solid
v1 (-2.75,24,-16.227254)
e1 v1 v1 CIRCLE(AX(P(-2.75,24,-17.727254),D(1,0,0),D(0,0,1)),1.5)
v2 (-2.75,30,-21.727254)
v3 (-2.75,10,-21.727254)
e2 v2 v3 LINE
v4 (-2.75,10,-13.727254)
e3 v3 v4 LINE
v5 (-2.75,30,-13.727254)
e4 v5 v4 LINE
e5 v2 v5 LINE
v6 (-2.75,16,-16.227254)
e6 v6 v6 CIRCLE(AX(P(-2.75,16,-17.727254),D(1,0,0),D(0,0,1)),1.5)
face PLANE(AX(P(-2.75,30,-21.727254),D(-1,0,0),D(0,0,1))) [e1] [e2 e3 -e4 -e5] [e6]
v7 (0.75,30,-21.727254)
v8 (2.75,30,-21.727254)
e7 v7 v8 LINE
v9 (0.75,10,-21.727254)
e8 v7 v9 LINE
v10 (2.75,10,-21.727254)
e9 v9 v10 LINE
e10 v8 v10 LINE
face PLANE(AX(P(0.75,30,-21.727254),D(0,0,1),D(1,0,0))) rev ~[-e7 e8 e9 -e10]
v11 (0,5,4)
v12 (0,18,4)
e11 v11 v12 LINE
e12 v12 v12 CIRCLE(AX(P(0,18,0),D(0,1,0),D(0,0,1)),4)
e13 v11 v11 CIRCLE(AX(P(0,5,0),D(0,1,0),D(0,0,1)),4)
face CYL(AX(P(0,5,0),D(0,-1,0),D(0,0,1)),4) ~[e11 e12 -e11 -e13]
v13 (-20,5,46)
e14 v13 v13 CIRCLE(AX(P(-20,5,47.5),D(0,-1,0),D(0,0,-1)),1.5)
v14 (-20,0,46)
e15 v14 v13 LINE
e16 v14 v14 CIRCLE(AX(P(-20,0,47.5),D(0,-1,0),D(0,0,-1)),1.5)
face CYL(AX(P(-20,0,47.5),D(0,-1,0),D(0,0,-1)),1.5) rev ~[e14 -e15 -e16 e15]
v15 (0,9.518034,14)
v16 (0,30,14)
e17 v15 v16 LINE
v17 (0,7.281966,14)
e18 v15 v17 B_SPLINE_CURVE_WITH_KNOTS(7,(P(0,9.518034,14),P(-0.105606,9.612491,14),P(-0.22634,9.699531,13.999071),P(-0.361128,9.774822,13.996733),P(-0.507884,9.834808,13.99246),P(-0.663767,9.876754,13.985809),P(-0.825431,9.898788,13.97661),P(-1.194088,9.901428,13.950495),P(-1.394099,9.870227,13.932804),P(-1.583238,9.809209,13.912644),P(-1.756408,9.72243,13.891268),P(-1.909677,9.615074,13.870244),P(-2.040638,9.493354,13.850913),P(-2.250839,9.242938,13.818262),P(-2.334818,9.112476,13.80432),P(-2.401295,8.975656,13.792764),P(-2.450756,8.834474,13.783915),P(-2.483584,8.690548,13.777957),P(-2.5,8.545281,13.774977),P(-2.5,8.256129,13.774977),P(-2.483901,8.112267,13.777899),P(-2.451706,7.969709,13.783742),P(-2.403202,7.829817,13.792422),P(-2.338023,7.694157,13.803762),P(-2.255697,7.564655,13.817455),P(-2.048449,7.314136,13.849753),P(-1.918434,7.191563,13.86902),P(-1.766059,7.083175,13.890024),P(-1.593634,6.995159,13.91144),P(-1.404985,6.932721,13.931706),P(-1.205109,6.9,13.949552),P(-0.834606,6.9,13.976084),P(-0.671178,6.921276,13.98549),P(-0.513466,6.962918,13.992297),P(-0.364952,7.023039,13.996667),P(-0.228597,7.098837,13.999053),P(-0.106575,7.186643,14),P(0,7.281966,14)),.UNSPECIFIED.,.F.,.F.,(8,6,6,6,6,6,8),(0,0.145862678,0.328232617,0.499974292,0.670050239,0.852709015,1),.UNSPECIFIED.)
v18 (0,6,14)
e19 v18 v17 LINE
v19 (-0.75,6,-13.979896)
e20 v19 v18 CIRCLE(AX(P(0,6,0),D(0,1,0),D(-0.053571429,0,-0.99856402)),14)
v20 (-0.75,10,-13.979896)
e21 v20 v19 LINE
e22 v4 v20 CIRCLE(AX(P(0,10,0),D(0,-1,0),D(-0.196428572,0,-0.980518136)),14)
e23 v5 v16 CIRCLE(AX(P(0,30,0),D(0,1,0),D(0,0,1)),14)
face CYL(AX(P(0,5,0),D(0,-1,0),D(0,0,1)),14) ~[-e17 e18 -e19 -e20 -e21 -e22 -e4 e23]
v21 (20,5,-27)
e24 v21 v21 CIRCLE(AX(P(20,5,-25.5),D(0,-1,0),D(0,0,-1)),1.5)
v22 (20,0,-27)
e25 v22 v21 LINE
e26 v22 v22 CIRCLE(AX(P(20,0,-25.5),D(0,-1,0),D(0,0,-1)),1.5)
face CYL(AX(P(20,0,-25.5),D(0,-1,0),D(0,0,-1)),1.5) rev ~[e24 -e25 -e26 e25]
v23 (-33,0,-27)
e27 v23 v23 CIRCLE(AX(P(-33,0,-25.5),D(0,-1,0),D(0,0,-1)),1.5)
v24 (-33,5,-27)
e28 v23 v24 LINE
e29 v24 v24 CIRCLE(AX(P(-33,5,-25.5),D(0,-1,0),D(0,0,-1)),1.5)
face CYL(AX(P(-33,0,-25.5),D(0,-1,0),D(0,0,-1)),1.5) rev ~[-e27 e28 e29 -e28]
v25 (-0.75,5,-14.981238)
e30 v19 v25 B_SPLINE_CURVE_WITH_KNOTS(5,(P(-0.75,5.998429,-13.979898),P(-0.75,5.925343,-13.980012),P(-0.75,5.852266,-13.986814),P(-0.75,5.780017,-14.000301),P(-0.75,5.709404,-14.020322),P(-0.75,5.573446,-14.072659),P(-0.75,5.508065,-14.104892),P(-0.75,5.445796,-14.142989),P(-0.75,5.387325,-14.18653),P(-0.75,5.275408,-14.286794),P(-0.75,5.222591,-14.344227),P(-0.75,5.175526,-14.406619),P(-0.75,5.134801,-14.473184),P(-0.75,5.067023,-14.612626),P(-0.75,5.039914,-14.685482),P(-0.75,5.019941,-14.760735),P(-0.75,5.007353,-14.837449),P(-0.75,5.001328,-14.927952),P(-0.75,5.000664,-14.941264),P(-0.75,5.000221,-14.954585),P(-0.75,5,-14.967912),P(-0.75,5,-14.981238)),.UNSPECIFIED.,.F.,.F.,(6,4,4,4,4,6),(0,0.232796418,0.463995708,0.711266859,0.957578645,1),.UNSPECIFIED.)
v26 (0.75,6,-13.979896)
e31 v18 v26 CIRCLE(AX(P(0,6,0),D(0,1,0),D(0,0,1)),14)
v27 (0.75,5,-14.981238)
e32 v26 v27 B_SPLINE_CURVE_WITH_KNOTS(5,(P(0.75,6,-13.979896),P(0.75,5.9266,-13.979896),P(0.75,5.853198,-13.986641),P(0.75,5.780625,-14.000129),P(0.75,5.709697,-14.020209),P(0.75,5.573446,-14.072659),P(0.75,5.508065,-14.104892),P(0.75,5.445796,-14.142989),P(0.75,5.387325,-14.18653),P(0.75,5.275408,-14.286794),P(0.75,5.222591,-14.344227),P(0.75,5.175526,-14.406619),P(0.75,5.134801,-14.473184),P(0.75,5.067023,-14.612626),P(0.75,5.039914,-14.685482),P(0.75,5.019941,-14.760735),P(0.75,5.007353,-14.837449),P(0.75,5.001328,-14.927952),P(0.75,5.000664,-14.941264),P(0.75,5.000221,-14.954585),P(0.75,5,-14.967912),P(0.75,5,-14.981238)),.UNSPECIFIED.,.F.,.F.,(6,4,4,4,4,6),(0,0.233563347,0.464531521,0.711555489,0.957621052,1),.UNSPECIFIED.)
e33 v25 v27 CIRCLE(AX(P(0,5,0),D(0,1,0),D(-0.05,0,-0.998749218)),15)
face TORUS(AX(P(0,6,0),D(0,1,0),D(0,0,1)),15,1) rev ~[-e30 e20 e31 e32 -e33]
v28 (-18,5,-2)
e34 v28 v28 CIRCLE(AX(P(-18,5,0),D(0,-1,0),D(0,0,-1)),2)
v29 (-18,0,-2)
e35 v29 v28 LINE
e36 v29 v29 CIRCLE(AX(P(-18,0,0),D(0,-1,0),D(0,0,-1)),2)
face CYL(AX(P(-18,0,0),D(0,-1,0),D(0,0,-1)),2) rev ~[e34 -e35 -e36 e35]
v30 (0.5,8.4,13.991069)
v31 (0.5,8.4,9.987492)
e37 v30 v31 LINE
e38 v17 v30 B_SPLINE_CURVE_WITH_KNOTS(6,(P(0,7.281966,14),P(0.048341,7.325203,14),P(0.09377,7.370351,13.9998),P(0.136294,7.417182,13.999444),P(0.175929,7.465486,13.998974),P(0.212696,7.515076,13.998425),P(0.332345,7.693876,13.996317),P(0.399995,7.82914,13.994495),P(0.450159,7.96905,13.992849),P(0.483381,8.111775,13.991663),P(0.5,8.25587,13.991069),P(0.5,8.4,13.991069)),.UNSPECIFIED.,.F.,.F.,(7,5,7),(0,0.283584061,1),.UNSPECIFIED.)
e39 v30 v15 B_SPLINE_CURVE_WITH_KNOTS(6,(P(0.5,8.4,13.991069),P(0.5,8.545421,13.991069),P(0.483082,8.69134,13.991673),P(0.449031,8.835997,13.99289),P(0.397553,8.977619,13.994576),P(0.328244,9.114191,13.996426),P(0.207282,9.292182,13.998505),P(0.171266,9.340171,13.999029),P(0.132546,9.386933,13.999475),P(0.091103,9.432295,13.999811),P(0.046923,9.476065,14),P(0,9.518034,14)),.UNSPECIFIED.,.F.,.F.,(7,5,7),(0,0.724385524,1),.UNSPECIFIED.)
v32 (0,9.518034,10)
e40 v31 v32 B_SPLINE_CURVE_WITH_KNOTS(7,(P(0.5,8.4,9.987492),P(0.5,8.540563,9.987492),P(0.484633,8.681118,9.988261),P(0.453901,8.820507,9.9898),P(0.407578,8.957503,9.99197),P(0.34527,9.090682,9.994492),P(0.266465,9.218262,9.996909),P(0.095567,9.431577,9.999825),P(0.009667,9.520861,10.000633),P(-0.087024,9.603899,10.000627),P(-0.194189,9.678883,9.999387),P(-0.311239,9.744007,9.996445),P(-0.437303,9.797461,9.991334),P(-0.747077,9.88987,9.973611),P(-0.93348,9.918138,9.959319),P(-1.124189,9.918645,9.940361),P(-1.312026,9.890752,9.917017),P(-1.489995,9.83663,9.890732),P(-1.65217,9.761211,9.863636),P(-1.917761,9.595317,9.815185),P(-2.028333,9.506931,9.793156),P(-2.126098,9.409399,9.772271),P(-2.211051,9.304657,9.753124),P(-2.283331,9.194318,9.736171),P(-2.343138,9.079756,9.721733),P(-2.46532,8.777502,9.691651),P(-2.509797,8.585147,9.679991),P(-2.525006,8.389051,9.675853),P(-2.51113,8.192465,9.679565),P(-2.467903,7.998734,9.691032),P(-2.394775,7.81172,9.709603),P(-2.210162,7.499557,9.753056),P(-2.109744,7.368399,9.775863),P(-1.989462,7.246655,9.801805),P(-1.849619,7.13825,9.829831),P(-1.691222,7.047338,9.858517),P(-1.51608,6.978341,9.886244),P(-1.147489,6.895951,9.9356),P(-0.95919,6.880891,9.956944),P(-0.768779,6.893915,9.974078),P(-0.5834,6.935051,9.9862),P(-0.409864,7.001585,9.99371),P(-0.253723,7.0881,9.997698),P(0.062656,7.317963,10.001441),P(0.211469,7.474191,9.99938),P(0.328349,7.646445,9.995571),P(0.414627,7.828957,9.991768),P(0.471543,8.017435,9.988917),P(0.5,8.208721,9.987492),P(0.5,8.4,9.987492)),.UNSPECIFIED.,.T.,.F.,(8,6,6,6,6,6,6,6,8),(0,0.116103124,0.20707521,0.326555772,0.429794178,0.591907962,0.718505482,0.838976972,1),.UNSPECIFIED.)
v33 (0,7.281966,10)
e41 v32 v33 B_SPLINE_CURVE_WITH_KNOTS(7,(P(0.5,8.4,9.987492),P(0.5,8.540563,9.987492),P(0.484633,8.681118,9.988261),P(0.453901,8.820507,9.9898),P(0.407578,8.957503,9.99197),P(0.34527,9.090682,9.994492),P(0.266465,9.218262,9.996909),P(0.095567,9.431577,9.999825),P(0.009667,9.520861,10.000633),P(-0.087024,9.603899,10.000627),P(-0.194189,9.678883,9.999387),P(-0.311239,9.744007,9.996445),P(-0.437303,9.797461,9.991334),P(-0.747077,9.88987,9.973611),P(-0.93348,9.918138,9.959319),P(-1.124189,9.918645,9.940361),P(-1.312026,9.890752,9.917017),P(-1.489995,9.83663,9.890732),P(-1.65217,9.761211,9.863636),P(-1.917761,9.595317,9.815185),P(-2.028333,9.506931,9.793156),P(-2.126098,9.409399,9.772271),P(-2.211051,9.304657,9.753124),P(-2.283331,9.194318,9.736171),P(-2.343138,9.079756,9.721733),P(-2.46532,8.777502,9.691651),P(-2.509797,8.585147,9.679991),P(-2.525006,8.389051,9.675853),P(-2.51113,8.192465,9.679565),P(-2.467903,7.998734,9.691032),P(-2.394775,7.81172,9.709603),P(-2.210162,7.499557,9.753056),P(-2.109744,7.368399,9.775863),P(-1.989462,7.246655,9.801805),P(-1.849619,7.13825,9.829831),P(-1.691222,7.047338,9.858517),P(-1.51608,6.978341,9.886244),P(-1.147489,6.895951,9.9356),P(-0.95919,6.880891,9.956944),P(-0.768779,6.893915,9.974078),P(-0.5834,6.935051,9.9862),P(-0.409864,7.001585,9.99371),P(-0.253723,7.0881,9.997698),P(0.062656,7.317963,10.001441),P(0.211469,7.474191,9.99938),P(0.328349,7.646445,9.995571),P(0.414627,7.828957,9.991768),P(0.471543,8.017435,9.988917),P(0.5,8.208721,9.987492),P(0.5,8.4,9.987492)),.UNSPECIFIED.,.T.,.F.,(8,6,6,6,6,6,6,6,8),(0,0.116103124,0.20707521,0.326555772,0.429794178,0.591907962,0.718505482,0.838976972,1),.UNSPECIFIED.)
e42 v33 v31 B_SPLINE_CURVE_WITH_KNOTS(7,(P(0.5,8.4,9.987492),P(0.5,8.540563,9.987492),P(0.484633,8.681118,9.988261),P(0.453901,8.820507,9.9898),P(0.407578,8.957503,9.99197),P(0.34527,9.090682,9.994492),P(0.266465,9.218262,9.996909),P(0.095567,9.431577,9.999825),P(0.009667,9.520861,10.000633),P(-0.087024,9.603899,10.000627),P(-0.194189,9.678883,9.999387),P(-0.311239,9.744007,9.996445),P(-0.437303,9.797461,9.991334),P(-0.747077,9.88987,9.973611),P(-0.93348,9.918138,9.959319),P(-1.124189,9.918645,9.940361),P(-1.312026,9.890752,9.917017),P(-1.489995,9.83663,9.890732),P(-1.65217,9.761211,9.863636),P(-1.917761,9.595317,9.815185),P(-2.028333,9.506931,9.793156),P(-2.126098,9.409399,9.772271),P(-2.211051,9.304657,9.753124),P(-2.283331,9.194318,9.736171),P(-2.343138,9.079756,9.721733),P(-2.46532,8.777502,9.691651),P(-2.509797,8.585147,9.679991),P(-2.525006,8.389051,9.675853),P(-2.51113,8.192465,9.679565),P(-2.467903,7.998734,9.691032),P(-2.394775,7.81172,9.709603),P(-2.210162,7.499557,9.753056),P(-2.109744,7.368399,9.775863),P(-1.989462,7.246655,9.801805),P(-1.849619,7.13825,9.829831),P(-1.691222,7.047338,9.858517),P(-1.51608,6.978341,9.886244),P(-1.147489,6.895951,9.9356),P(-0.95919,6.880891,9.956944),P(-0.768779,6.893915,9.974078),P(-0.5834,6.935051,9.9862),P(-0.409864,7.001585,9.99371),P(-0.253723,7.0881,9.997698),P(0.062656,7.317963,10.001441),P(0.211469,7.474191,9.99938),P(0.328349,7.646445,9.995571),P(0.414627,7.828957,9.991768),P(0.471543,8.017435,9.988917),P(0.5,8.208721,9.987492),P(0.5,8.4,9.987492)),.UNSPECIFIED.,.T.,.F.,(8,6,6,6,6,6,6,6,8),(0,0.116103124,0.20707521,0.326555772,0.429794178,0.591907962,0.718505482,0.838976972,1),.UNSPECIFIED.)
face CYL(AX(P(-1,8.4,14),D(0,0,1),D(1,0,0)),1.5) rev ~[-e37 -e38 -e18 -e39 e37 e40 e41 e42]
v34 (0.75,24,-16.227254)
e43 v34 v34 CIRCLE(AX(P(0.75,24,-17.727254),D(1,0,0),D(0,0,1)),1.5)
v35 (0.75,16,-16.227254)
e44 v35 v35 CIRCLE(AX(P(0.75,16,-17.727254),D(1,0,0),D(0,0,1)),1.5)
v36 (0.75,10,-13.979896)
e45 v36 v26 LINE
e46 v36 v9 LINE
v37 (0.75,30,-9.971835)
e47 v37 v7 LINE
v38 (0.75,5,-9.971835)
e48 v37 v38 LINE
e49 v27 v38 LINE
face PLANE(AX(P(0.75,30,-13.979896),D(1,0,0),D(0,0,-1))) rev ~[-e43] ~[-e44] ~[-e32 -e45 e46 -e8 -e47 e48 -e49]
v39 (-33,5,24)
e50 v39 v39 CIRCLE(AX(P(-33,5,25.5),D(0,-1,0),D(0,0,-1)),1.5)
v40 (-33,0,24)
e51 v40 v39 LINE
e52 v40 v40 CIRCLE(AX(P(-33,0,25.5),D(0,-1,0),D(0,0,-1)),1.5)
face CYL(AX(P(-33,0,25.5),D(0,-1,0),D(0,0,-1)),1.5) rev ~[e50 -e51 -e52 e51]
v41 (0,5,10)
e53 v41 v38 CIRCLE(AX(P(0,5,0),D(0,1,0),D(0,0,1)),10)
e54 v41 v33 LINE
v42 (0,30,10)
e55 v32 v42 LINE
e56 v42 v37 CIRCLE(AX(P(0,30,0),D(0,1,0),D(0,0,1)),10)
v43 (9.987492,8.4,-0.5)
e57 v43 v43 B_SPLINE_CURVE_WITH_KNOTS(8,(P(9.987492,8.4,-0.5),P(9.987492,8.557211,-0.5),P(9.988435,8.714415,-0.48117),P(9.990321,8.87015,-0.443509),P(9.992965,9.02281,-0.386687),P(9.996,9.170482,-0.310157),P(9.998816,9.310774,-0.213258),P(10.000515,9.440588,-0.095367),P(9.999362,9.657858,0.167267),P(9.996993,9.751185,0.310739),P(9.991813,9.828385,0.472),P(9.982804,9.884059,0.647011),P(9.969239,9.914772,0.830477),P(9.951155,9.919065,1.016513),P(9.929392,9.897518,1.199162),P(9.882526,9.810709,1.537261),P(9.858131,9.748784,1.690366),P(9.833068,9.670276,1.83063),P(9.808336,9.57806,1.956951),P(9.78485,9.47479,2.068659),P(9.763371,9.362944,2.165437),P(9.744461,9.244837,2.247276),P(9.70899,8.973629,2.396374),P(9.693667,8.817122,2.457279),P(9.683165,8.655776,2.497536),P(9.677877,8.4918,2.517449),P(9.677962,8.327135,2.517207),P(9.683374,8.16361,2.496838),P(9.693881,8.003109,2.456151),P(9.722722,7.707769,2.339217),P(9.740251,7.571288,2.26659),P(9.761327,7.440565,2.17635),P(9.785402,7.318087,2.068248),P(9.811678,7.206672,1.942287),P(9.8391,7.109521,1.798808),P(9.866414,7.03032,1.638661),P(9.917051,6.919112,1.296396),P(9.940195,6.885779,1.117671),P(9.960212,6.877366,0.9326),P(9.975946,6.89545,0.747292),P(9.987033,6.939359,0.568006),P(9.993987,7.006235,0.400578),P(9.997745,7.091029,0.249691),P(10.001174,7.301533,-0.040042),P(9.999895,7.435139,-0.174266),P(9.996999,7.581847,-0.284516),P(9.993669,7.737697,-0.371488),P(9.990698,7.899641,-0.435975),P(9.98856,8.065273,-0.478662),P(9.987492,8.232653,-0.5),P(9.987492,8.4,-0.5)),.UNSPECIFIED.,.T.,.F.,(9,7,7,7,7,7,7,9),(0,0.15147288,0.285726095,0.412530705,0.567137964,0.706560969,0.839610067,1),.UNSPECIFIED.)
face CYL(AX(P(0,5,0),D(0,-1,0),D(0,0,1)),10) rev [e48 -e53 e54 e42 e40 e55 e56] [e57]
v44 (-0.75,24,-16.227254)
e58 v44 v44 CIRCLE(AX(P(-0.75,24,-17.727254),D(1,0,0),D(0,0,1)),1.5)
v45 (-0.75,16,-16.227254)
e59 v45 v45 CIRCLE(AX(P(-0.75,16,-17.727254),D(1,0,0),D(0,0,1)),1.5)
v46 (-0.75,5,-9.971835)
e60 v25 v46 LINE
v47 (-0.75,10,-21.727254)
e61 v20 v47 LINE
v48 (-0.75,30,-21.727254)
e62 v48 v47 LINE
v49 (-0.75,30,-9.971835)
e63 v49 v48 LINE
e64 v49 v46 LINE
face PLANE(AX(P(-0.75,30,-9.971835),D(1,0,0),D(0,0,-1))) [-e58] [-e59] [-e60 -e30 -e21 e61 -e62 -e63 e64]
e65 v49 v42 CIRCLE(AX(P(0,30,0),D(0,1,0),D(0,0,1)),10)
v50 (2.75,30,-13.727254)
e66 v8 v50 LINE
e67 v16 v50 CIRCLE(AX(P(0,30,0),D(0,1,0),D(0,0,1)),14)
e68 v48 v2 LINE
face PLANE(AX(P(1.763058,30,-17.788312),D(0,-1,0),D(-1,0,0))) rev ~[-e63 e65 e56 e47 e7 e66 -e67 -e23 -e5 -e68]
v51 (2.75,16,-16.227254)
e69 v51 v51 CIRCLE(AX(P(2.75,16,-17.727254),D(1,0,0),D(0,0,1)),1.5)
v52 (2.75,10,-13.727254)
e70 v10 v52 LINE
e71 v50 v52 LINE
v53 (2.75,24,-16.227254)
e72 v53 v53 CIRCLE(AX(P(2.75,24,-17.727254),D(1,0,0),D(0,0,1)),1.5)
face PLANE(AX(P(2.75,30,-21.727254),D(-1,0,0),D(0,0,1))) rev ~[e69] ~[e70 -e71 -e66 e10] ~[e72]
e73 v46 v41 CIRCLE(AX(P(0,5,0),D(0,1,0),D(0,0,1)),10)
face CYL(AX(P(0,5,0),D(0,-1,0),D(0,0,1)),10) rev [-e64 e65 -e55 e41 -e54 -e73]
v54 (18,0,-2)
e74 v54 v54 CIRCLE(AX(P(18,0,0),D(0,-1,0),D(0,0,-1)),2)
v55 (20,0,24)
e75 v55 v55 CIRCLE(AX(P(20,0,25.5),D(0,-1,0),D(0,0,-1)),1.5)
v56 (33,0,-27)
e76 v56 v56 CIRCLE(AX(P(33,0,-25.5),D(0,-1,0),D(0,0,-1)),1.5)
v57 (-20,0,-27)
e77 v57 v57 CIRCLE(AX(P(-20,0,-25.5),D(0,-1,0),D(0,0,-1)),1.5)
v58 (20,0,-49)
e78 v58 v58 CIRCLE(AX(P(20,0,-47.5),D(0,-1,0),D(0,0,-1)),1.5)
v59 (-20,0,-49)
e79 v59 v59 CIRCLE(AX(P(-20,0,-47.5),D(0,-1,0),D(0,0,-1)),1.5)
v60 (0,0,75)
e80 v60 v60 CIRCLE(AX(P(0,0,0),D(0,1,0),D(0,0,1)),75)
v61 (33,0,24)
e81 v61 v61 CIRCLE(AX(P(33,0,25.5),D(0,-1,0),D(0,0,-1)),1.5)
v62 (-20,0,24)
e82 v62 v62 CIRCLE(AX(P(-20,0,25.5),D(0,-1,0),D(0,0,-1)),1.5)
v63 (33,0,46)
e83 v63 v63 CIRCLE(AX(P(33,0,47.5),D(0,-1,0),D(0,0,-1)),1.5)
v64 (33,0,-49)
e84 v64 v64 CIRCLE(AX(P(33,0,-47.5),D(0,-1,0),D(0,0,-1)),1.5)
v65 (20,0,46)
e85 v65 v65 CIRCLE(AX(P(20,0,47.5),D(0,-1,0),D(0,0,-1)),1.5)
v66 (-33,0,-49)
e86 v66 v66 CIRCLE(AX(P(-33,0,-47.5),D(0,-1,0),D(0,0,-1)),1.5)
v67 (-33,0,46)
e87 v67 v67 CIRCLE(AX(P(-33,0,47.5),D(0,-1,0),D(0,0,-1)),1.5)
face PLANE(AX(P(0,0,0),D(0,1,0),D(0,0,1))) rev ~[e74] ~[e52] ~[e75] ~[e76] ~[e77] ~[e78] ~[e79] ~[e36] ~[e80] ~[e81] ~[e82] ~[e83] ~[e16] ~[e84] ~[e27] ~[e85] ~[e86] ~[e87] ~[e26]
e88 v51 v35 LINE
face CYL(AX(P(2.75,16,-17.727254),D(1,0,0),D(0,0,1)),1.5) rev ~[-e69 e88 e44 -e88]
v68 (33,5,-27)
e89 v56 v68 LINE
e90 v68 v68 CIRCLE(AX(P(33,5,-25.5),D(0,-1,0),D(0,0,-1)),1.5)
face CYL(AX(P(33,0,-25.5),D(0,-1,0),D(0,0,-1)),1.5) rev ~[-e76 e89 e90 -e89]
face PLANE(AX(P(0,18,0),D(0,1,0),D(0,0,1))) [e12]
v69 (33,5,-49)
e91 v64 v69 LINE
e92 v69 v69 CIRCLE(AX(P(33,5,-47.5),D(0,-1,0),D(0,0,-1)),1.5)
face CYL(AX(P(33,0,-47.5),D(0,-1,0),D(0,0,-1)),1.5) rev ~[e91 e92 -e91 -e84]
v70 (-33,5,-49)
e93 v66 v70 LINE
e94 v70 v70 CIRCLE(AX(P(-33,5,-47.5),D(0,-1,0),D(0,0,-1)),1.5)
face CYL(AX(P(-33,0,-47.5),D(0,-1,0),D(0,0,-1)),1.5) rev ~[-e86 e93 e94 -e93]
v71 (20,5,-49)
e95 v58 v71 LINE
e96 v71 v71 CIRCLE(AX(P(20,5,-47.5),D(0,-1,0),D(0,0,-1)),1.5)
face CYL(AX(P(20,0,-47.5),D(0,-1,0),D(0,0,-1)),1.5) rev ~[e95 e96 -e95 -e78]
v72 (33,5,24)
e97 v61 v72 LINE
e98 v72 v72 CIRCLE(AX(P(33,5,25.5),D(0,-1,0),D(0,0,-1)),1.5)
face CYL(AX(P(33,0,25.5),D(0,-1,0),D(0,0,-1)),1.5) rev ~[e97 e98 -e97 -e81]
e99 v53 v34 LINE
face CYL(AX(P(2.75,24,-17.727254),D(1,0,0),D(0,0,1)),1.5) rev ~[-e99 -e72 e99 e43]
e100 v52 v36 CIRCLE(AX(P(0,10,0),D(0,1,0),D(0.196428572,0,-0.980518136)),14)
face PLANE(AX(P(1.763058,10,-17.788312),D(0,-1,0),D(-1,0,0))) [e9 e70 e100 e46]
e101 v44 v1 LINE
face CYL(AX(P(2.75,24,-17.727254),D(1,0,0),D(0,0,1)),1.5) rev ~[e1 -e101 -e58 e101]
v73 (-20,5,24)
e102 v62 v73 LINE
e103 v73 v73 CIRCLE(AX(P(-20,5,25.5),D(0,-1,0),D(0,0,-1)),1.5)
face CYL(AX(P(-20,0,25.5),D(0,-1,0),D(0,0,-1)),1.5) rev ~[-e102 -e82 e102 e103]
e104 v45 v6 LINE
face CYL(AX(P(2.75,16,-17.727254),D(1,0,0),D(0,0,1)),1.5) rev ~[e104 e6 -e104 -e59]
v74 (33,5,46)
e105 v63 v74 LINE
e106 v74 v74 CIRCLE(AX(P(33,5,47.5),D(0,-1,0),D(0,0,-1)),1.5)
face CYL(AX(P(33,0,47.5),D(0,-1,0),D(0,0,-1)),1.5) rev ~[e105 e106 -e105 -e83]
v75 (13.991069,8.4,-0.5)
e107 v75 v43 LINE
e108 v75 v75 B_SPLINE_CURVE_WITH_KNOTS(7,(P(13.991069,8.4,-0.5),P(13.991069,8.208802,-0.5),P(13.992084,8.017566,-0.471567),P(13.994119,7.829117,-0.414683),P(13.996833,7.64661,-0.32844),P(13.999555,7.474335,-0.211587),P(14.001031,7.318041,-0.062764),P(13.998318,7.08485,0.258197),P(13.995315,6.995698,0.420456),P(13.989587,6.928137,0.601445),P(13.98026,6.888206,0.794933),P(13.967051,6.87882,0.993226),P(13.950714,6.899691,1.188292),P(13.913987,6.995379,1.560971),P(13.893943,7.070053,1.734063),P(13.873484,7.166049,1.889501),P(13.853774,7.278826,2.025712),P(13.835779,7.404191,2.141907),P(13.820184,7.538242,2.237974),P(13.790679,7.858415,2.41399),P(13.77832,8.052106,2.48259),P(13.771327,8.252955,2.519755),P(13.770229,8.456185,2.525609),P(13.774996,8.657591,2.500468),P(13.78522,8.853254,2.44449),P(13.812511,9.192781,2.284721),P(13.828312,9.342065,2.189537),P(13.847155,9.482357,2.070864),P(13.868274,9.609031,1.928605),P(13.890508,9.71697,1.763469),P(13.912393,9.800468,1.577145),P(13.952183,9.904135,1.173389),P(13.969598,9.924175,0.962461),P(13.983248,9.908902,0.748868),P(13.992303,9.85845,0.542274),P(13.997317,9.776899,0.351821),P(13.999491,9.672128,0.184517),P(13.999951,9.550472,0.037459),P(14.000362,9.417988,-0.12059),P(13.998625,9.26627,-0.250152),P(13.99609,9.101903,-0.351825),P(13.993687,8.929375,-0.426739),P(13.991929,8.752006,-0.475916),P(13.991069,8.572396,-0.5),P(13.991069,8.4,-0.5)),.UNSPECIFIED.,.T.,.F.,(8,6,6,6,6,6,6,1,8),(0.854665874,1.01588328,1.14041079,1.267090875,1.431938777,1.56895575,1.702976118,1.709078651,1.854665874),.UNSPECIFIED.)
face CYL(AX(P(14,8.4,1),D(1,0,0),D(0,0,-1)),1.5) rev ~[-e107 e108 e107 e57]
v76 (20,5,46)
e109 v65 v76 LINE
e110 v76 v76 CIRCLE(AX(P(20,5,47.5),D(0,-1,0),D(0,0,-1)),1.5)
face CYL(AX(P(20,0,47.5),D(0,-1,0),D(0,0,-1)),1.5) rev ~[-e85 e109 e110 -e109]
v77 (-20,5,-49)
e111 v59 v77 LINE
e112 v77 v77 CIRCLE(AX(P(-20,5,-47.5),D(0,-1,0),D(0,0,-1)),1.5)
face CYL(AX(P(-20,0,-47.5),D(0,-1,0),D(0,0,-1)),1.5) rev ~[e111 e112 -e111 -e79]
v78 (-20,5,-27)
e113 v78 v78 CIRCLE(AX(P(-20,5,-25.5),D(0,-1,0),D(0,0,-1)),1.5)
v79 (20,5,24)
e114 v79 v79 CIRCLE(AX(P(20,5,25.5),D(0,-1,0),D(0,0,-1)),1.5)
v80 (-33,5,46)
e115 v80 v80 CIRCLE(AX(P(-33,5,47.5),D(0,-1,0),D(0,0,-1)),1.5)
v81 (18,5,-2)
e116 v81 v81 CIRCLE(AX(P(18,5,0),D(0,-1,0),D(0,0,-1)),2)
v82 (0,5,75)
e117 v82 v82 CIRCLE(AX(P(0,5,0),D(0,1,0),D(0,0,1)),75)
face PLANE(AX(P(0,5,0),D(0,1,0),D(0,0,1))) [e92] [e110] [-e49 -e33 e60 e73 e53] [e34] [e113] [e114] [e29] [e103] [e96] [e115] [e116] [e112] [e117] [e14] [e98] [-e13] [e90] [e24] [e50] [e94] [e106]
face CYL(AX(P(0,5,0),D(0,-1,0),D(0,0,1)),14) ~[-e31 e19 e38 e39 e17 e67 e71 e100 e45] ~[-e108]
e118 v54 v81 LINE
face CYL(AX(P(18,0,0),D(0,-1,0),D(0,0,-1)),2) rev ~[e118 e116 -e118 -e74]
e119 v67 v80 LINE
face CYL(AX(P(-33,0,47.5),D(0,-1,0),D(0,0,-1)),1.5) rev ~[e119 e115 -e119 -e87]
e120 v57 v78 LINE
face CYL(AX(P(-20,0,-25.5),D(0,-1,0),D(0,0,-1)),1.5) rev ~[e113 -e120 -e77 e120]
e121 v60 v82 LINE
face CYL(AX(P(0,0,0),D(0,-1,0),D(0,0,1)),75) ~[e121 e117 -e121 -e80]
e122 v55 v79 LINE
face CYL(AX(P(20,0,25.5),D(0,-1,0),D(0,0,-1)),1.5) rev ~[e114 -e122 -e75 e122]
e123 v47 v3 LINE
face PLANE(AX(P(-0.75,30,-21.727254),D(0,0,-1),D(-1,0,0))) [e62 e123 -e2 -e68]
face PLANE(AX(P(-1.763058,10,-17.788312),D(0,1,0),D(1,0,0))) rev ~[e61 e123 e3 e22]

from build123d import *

# Parameters (mm, degrees)
SKETCH1_R               = 75
BOSS_EXTRUDE1_DEPTH     = 5
SKETCH2_R               = 14
SKETCH2_R_2             = 10
SKETCH2_R_3             = 4
BOSS_EXTRUDE2_DEPTH     = 25
SKETCH3_R               = 4
CUT_EXTRUDE1_DEPTH      = 12
CUT_EXTRUDE2_REACH      = 122.192
CUT_EXTRUDE2_END_RADIUS = 10
SKETCH4_R               = 1.5
CUT_EXTRUDE3_REACH      = 122.192
CUT_EXTRUDE3_END_RADIUS = 10
SKETCH5_R               = 1.5
SKETCH6_R               = 2
CUT_EXTRUDE4_DEPTH      = 111.227038452
SKETCH7_R               = 1.5
CUT_EXTRUDE5_DEPTH      = 111.227038452
CUT_EXTRUDE6_DEPTH      = 25
BOSS_EXTRUDE3_DEPTH     = 20
SKETCH10_R              = 1.5
CUT_EXTRUDE7_DEPTH      = 113.116290101
FILLET1_R               = 1


with BuildPart() as part:
    # Sketch1 → Boss-Extrude1 (new body)
    with BuildSketch(Plane(origin=(0, 0, 0), x_dir=(1, 0, 0), z_dir=(0, 1, 0))):
        with Locations(Location((0, 0, 0), (0, 0, 270))):
            Circle(SKETCH1_R)
    extrude(amount=BOSS_EXTRUDE1_DEPTH)

    # Sketch2 → Boss-Extrude2 (add)
    with BuildSketch(Plane(origin=(0, 5, 0), x_dir=(1, 0, 0), z_dir=(0, 1, 0))):
        with Locations(Location((0, 0, 0), (0, 0, 270))):
            Circle(SKETCH2_R)
        with Locations(Location((0, 0, 0), (0, 0, 270))):
            Circle(SKETCH2_R_2, mode=Mode.SUBTRACT)
        with Locations(Location((0, 0, 0), (0, 0, 270))):
            Circle(SKETCH2_R_3)
    extrude(amount=BOSS_EXTRUDE2_DEPTH)

    # Sketch3 → Cut-Extrude1 (cut)
    with BuildSketch(Plane(origin=(0, 30, 0), x_dir=(1, 0, 0), z_dir=(0, 1, 0))):
        with Locations(Location((0, 0, 0), (0, 0, 270))):
            Circle(SKETCH3_R)
    extrude(amount=-CUT_EXTRUDE1_DEPTH, mode=Mode.SUBTRACT)

    # Cut-Extrude2: up to this cylinder (the profile starts outside it)
    cut_extrude2_end = Plane(origin=(0, 8.4, 0), z_dir=(0, -1, 0)) * Cylinder(CUT_EXTRUDE2_END_RADIUS, 265.384, mode=Mode.PRIVATE)
    # Sketch4 → Cut-Extrude2 (cut, up to the surface)
    with BuildSketch(Plane(origin=(14, 0, 0), x_dir=(0, 0, -1), z_dir=(1, 0, 0)), mode=Mode.PRIVATE) as cut_extrude2_sk1:
        with Locations((-1, 8.4)):
            Circle(SKETCH4_R)
    cut_extrude2_tool1 = extrude(cut_extrude2_sk1.sketch, amount=-CUT_EXTRUDE2_REACH, mode=Mode.PRIVATE) - cut_extrude2_end
    add(cut_extrude2_tool1.solids().sort_by_distance((14, 8.4, 1))[0], mode=Mode.SUBTRACT)

    # Cut-Extrude3: up to this cylinder (the profile starts outside it)
    cut_extrude3_end = Plane(origin=(0, 8.4, 0), z_dir=(0, -1, 0)) * Cylinder(CUT_EXTRUDE3_END_RADIUS, 265.384, mode=Mode.PRIVATE)
    # Sketch5 → Cut-Extrude3 (cut, up to the surface)
    with BuildSketch(Plane.XY.offset(14), mode=Mode.PRIVATE) as cut_extrude3_sk1:
        with Locations((-1, 8.4)):
            Circle(SKETCH5_R)
    cut_extrude3_tool1 = extrude(cut_extrude3_sk1.sketch, amount=-CUT_EXTRUDE3_REACH, mode=Mode.PRIVATE) - cut_extrude3_end
    add(cut_extrude3_tool1.solids().sort_by_distance((-1, 8.4, 14))[0], mode=Mode.SUBTRACT)

    # Sketch6 → Cut-Extrude4 (cut, through all)
    with BuildSketch(Plane.XZ):
        with Locations(Location((-18, 0, 0), (0, 0, 270))):
            Circle(SKETCH6_R)
        with Locations(Location((18, 0, 0), (0, 0, 270))):
            Circle(SKETCH6_R)
    extrude(amount=-CUT_EXTRUDE4_DEPTH, mode=Mode.SUBTRACT)

    # Sketch7 → Cut-Extrude5 (cut, through all)
    with BuildSketch(Plane.XZ):
        with Locations(Location((20, 47.5, 0), (0, 0, 270))):
            Circle(SKETCH7_R)
        with Locations(Location((33, 47.5, 0), (0, 0, 270))):
            Circle(SKETCH7_R)
        with Locations(Location((20, 25.5, 0), (0, 0, 270))):
            Circle(SKETCH7_R)
        with Locations(Location((33, 25.5, 0), (0, 0, 270))):
            Circle(SKETCH7_R)
        with Locations(Location((-20, 25.5, 0), (0, 0, 270))):
            Circle(SKETCH7_R)
        with Locations(Location((-33, 25.5, 0), (0, 0, 270))):
            Circle(SKETCH7_R)
        with Locations(Location((-33, 47.5, 0), (0, 0, 270))):
            Circle(SKETCH7_R)
        with Locations(Location((-20, 47.5, 0), (0, 0, 270))):
            Circle(SKETCH7_R)
        with Locations(Location((-33, -47.5, 0), (0, 0, 270))):
            Circle(SKETCH7_R)
        with Locations(Location((-20, -47.5, 0), (0, 0, 270))):
            Circle(SKETCH7_R)
        with Locations(Location((-20, -25.5, 0), (0, 0, 270))):
            Circle(SKETCH7_R)
        with Locations(Location((-33, -25.5, 0), (0, 0, 270))):
            Circle(SKETCH7_R)
        with Locations(Location((20, -25.5, 0), (0, 0, 270))):
            Circle(SKETCH7_R)
        with Locations(Location((20, -47.5, 0), (0, 0, 270))):
            Circle(SKETCH7_R)
        with Locations(Location((33, -47.5, 0), (0, 0, 270))):
            Circle(SKETCH7_R)
        with Locations(Location((33, -25.5, 0), (0, 0, 270))):
            Circle(SKETCH7_R)
    extrude(amount=-CUT_EXTRUDE5_DEPTH, mode=Mode.SUBTRACT)

    # Sketch8 → Cut-Extrude6 (cut)
    with BuildSketch(Plane(origin=(0, 30, 0), x_dir=(1, 0, 0), z_dir=(0, 1, 0))):
        with BuildLine():
            Line((0.75, 13.97989628), (0.75, 9.971835338))
            ThreePointArc((0.75, 9.971835338), (0, 10), (-0.75, 9.971835338))
            Line((-0.75, 9.971835338), (-0.75, 13.97989628))
            ThreePointArc((-0.75, 13.97989628), (0, 14), (0.75, 13.97989628))
        make_face()
    extrude(amount=-CUT_EXTRUDE6_DEPTH, mode=Mode.SUBTRACT)

    # Sketch9 → Boss-Extrude3 (add)
    with BuildSketch(Plane(origin=(0, 30, 0), x_dir=(1, 0, 0), z_dir=(0, 1, 0))):
        with BuildLine():
            Line((0.75, 13.97989628), (0.75, 21.727253913))
            Line((0.75, 21.727253913), (2.75, 21.727253913))
            Line((2.75, 21.727253913), (2.75, 13.727253913))
            ThreePointArc((2.75, 13.727253913), (1.754553231, 13.889619972), (0.75, 13.97989628))
        make_face()
        with BuildLine():
            Line((-0.75, 21.727253913), (-2.75, 21.727253913))
            Line((-2.75, 21.727253913), (-2.75, 13.727253913))
            ThreePointArc((-2.75, 13.727253913), (-1.754553231, 13.889619972), (-0.75, 13.97989628))
            Line((-0.75, 13.97989628), (-0.75, 21.727253913))
        make_face()
    extrude(amount=-BOSS_EXTRUDE3_DEPTH)

    # Sketch10 → Cut-Extrude7 (cut, through all)
    with BuildSketch(Plane(origin=(2.75, 0, 0), x_dir=(0, 0, -1), z_dir=(1, 0, 0))):
        with Locations(Location((17.727253913, 24, 0), (0, 0, 180))):
            Circle(SKETCH10_R)
        with Locations(Location((17.727253913, 16, 0), (0, 0, 180))):
            Circle(SKETCH10_R)
    extrude(amount=-CUT_EXTRUDE7_DEPTH, mode=Mode.SUBTRACT)

    # Fillet1
    fillet1_edges = [part.edges().sort_by_distance(p)[0] for p in [
        (13.994973168, 5, 0.375134696),
    ]]
    fillet(fillet1_edges, radius=FILLET1_R)


solid = part.part
